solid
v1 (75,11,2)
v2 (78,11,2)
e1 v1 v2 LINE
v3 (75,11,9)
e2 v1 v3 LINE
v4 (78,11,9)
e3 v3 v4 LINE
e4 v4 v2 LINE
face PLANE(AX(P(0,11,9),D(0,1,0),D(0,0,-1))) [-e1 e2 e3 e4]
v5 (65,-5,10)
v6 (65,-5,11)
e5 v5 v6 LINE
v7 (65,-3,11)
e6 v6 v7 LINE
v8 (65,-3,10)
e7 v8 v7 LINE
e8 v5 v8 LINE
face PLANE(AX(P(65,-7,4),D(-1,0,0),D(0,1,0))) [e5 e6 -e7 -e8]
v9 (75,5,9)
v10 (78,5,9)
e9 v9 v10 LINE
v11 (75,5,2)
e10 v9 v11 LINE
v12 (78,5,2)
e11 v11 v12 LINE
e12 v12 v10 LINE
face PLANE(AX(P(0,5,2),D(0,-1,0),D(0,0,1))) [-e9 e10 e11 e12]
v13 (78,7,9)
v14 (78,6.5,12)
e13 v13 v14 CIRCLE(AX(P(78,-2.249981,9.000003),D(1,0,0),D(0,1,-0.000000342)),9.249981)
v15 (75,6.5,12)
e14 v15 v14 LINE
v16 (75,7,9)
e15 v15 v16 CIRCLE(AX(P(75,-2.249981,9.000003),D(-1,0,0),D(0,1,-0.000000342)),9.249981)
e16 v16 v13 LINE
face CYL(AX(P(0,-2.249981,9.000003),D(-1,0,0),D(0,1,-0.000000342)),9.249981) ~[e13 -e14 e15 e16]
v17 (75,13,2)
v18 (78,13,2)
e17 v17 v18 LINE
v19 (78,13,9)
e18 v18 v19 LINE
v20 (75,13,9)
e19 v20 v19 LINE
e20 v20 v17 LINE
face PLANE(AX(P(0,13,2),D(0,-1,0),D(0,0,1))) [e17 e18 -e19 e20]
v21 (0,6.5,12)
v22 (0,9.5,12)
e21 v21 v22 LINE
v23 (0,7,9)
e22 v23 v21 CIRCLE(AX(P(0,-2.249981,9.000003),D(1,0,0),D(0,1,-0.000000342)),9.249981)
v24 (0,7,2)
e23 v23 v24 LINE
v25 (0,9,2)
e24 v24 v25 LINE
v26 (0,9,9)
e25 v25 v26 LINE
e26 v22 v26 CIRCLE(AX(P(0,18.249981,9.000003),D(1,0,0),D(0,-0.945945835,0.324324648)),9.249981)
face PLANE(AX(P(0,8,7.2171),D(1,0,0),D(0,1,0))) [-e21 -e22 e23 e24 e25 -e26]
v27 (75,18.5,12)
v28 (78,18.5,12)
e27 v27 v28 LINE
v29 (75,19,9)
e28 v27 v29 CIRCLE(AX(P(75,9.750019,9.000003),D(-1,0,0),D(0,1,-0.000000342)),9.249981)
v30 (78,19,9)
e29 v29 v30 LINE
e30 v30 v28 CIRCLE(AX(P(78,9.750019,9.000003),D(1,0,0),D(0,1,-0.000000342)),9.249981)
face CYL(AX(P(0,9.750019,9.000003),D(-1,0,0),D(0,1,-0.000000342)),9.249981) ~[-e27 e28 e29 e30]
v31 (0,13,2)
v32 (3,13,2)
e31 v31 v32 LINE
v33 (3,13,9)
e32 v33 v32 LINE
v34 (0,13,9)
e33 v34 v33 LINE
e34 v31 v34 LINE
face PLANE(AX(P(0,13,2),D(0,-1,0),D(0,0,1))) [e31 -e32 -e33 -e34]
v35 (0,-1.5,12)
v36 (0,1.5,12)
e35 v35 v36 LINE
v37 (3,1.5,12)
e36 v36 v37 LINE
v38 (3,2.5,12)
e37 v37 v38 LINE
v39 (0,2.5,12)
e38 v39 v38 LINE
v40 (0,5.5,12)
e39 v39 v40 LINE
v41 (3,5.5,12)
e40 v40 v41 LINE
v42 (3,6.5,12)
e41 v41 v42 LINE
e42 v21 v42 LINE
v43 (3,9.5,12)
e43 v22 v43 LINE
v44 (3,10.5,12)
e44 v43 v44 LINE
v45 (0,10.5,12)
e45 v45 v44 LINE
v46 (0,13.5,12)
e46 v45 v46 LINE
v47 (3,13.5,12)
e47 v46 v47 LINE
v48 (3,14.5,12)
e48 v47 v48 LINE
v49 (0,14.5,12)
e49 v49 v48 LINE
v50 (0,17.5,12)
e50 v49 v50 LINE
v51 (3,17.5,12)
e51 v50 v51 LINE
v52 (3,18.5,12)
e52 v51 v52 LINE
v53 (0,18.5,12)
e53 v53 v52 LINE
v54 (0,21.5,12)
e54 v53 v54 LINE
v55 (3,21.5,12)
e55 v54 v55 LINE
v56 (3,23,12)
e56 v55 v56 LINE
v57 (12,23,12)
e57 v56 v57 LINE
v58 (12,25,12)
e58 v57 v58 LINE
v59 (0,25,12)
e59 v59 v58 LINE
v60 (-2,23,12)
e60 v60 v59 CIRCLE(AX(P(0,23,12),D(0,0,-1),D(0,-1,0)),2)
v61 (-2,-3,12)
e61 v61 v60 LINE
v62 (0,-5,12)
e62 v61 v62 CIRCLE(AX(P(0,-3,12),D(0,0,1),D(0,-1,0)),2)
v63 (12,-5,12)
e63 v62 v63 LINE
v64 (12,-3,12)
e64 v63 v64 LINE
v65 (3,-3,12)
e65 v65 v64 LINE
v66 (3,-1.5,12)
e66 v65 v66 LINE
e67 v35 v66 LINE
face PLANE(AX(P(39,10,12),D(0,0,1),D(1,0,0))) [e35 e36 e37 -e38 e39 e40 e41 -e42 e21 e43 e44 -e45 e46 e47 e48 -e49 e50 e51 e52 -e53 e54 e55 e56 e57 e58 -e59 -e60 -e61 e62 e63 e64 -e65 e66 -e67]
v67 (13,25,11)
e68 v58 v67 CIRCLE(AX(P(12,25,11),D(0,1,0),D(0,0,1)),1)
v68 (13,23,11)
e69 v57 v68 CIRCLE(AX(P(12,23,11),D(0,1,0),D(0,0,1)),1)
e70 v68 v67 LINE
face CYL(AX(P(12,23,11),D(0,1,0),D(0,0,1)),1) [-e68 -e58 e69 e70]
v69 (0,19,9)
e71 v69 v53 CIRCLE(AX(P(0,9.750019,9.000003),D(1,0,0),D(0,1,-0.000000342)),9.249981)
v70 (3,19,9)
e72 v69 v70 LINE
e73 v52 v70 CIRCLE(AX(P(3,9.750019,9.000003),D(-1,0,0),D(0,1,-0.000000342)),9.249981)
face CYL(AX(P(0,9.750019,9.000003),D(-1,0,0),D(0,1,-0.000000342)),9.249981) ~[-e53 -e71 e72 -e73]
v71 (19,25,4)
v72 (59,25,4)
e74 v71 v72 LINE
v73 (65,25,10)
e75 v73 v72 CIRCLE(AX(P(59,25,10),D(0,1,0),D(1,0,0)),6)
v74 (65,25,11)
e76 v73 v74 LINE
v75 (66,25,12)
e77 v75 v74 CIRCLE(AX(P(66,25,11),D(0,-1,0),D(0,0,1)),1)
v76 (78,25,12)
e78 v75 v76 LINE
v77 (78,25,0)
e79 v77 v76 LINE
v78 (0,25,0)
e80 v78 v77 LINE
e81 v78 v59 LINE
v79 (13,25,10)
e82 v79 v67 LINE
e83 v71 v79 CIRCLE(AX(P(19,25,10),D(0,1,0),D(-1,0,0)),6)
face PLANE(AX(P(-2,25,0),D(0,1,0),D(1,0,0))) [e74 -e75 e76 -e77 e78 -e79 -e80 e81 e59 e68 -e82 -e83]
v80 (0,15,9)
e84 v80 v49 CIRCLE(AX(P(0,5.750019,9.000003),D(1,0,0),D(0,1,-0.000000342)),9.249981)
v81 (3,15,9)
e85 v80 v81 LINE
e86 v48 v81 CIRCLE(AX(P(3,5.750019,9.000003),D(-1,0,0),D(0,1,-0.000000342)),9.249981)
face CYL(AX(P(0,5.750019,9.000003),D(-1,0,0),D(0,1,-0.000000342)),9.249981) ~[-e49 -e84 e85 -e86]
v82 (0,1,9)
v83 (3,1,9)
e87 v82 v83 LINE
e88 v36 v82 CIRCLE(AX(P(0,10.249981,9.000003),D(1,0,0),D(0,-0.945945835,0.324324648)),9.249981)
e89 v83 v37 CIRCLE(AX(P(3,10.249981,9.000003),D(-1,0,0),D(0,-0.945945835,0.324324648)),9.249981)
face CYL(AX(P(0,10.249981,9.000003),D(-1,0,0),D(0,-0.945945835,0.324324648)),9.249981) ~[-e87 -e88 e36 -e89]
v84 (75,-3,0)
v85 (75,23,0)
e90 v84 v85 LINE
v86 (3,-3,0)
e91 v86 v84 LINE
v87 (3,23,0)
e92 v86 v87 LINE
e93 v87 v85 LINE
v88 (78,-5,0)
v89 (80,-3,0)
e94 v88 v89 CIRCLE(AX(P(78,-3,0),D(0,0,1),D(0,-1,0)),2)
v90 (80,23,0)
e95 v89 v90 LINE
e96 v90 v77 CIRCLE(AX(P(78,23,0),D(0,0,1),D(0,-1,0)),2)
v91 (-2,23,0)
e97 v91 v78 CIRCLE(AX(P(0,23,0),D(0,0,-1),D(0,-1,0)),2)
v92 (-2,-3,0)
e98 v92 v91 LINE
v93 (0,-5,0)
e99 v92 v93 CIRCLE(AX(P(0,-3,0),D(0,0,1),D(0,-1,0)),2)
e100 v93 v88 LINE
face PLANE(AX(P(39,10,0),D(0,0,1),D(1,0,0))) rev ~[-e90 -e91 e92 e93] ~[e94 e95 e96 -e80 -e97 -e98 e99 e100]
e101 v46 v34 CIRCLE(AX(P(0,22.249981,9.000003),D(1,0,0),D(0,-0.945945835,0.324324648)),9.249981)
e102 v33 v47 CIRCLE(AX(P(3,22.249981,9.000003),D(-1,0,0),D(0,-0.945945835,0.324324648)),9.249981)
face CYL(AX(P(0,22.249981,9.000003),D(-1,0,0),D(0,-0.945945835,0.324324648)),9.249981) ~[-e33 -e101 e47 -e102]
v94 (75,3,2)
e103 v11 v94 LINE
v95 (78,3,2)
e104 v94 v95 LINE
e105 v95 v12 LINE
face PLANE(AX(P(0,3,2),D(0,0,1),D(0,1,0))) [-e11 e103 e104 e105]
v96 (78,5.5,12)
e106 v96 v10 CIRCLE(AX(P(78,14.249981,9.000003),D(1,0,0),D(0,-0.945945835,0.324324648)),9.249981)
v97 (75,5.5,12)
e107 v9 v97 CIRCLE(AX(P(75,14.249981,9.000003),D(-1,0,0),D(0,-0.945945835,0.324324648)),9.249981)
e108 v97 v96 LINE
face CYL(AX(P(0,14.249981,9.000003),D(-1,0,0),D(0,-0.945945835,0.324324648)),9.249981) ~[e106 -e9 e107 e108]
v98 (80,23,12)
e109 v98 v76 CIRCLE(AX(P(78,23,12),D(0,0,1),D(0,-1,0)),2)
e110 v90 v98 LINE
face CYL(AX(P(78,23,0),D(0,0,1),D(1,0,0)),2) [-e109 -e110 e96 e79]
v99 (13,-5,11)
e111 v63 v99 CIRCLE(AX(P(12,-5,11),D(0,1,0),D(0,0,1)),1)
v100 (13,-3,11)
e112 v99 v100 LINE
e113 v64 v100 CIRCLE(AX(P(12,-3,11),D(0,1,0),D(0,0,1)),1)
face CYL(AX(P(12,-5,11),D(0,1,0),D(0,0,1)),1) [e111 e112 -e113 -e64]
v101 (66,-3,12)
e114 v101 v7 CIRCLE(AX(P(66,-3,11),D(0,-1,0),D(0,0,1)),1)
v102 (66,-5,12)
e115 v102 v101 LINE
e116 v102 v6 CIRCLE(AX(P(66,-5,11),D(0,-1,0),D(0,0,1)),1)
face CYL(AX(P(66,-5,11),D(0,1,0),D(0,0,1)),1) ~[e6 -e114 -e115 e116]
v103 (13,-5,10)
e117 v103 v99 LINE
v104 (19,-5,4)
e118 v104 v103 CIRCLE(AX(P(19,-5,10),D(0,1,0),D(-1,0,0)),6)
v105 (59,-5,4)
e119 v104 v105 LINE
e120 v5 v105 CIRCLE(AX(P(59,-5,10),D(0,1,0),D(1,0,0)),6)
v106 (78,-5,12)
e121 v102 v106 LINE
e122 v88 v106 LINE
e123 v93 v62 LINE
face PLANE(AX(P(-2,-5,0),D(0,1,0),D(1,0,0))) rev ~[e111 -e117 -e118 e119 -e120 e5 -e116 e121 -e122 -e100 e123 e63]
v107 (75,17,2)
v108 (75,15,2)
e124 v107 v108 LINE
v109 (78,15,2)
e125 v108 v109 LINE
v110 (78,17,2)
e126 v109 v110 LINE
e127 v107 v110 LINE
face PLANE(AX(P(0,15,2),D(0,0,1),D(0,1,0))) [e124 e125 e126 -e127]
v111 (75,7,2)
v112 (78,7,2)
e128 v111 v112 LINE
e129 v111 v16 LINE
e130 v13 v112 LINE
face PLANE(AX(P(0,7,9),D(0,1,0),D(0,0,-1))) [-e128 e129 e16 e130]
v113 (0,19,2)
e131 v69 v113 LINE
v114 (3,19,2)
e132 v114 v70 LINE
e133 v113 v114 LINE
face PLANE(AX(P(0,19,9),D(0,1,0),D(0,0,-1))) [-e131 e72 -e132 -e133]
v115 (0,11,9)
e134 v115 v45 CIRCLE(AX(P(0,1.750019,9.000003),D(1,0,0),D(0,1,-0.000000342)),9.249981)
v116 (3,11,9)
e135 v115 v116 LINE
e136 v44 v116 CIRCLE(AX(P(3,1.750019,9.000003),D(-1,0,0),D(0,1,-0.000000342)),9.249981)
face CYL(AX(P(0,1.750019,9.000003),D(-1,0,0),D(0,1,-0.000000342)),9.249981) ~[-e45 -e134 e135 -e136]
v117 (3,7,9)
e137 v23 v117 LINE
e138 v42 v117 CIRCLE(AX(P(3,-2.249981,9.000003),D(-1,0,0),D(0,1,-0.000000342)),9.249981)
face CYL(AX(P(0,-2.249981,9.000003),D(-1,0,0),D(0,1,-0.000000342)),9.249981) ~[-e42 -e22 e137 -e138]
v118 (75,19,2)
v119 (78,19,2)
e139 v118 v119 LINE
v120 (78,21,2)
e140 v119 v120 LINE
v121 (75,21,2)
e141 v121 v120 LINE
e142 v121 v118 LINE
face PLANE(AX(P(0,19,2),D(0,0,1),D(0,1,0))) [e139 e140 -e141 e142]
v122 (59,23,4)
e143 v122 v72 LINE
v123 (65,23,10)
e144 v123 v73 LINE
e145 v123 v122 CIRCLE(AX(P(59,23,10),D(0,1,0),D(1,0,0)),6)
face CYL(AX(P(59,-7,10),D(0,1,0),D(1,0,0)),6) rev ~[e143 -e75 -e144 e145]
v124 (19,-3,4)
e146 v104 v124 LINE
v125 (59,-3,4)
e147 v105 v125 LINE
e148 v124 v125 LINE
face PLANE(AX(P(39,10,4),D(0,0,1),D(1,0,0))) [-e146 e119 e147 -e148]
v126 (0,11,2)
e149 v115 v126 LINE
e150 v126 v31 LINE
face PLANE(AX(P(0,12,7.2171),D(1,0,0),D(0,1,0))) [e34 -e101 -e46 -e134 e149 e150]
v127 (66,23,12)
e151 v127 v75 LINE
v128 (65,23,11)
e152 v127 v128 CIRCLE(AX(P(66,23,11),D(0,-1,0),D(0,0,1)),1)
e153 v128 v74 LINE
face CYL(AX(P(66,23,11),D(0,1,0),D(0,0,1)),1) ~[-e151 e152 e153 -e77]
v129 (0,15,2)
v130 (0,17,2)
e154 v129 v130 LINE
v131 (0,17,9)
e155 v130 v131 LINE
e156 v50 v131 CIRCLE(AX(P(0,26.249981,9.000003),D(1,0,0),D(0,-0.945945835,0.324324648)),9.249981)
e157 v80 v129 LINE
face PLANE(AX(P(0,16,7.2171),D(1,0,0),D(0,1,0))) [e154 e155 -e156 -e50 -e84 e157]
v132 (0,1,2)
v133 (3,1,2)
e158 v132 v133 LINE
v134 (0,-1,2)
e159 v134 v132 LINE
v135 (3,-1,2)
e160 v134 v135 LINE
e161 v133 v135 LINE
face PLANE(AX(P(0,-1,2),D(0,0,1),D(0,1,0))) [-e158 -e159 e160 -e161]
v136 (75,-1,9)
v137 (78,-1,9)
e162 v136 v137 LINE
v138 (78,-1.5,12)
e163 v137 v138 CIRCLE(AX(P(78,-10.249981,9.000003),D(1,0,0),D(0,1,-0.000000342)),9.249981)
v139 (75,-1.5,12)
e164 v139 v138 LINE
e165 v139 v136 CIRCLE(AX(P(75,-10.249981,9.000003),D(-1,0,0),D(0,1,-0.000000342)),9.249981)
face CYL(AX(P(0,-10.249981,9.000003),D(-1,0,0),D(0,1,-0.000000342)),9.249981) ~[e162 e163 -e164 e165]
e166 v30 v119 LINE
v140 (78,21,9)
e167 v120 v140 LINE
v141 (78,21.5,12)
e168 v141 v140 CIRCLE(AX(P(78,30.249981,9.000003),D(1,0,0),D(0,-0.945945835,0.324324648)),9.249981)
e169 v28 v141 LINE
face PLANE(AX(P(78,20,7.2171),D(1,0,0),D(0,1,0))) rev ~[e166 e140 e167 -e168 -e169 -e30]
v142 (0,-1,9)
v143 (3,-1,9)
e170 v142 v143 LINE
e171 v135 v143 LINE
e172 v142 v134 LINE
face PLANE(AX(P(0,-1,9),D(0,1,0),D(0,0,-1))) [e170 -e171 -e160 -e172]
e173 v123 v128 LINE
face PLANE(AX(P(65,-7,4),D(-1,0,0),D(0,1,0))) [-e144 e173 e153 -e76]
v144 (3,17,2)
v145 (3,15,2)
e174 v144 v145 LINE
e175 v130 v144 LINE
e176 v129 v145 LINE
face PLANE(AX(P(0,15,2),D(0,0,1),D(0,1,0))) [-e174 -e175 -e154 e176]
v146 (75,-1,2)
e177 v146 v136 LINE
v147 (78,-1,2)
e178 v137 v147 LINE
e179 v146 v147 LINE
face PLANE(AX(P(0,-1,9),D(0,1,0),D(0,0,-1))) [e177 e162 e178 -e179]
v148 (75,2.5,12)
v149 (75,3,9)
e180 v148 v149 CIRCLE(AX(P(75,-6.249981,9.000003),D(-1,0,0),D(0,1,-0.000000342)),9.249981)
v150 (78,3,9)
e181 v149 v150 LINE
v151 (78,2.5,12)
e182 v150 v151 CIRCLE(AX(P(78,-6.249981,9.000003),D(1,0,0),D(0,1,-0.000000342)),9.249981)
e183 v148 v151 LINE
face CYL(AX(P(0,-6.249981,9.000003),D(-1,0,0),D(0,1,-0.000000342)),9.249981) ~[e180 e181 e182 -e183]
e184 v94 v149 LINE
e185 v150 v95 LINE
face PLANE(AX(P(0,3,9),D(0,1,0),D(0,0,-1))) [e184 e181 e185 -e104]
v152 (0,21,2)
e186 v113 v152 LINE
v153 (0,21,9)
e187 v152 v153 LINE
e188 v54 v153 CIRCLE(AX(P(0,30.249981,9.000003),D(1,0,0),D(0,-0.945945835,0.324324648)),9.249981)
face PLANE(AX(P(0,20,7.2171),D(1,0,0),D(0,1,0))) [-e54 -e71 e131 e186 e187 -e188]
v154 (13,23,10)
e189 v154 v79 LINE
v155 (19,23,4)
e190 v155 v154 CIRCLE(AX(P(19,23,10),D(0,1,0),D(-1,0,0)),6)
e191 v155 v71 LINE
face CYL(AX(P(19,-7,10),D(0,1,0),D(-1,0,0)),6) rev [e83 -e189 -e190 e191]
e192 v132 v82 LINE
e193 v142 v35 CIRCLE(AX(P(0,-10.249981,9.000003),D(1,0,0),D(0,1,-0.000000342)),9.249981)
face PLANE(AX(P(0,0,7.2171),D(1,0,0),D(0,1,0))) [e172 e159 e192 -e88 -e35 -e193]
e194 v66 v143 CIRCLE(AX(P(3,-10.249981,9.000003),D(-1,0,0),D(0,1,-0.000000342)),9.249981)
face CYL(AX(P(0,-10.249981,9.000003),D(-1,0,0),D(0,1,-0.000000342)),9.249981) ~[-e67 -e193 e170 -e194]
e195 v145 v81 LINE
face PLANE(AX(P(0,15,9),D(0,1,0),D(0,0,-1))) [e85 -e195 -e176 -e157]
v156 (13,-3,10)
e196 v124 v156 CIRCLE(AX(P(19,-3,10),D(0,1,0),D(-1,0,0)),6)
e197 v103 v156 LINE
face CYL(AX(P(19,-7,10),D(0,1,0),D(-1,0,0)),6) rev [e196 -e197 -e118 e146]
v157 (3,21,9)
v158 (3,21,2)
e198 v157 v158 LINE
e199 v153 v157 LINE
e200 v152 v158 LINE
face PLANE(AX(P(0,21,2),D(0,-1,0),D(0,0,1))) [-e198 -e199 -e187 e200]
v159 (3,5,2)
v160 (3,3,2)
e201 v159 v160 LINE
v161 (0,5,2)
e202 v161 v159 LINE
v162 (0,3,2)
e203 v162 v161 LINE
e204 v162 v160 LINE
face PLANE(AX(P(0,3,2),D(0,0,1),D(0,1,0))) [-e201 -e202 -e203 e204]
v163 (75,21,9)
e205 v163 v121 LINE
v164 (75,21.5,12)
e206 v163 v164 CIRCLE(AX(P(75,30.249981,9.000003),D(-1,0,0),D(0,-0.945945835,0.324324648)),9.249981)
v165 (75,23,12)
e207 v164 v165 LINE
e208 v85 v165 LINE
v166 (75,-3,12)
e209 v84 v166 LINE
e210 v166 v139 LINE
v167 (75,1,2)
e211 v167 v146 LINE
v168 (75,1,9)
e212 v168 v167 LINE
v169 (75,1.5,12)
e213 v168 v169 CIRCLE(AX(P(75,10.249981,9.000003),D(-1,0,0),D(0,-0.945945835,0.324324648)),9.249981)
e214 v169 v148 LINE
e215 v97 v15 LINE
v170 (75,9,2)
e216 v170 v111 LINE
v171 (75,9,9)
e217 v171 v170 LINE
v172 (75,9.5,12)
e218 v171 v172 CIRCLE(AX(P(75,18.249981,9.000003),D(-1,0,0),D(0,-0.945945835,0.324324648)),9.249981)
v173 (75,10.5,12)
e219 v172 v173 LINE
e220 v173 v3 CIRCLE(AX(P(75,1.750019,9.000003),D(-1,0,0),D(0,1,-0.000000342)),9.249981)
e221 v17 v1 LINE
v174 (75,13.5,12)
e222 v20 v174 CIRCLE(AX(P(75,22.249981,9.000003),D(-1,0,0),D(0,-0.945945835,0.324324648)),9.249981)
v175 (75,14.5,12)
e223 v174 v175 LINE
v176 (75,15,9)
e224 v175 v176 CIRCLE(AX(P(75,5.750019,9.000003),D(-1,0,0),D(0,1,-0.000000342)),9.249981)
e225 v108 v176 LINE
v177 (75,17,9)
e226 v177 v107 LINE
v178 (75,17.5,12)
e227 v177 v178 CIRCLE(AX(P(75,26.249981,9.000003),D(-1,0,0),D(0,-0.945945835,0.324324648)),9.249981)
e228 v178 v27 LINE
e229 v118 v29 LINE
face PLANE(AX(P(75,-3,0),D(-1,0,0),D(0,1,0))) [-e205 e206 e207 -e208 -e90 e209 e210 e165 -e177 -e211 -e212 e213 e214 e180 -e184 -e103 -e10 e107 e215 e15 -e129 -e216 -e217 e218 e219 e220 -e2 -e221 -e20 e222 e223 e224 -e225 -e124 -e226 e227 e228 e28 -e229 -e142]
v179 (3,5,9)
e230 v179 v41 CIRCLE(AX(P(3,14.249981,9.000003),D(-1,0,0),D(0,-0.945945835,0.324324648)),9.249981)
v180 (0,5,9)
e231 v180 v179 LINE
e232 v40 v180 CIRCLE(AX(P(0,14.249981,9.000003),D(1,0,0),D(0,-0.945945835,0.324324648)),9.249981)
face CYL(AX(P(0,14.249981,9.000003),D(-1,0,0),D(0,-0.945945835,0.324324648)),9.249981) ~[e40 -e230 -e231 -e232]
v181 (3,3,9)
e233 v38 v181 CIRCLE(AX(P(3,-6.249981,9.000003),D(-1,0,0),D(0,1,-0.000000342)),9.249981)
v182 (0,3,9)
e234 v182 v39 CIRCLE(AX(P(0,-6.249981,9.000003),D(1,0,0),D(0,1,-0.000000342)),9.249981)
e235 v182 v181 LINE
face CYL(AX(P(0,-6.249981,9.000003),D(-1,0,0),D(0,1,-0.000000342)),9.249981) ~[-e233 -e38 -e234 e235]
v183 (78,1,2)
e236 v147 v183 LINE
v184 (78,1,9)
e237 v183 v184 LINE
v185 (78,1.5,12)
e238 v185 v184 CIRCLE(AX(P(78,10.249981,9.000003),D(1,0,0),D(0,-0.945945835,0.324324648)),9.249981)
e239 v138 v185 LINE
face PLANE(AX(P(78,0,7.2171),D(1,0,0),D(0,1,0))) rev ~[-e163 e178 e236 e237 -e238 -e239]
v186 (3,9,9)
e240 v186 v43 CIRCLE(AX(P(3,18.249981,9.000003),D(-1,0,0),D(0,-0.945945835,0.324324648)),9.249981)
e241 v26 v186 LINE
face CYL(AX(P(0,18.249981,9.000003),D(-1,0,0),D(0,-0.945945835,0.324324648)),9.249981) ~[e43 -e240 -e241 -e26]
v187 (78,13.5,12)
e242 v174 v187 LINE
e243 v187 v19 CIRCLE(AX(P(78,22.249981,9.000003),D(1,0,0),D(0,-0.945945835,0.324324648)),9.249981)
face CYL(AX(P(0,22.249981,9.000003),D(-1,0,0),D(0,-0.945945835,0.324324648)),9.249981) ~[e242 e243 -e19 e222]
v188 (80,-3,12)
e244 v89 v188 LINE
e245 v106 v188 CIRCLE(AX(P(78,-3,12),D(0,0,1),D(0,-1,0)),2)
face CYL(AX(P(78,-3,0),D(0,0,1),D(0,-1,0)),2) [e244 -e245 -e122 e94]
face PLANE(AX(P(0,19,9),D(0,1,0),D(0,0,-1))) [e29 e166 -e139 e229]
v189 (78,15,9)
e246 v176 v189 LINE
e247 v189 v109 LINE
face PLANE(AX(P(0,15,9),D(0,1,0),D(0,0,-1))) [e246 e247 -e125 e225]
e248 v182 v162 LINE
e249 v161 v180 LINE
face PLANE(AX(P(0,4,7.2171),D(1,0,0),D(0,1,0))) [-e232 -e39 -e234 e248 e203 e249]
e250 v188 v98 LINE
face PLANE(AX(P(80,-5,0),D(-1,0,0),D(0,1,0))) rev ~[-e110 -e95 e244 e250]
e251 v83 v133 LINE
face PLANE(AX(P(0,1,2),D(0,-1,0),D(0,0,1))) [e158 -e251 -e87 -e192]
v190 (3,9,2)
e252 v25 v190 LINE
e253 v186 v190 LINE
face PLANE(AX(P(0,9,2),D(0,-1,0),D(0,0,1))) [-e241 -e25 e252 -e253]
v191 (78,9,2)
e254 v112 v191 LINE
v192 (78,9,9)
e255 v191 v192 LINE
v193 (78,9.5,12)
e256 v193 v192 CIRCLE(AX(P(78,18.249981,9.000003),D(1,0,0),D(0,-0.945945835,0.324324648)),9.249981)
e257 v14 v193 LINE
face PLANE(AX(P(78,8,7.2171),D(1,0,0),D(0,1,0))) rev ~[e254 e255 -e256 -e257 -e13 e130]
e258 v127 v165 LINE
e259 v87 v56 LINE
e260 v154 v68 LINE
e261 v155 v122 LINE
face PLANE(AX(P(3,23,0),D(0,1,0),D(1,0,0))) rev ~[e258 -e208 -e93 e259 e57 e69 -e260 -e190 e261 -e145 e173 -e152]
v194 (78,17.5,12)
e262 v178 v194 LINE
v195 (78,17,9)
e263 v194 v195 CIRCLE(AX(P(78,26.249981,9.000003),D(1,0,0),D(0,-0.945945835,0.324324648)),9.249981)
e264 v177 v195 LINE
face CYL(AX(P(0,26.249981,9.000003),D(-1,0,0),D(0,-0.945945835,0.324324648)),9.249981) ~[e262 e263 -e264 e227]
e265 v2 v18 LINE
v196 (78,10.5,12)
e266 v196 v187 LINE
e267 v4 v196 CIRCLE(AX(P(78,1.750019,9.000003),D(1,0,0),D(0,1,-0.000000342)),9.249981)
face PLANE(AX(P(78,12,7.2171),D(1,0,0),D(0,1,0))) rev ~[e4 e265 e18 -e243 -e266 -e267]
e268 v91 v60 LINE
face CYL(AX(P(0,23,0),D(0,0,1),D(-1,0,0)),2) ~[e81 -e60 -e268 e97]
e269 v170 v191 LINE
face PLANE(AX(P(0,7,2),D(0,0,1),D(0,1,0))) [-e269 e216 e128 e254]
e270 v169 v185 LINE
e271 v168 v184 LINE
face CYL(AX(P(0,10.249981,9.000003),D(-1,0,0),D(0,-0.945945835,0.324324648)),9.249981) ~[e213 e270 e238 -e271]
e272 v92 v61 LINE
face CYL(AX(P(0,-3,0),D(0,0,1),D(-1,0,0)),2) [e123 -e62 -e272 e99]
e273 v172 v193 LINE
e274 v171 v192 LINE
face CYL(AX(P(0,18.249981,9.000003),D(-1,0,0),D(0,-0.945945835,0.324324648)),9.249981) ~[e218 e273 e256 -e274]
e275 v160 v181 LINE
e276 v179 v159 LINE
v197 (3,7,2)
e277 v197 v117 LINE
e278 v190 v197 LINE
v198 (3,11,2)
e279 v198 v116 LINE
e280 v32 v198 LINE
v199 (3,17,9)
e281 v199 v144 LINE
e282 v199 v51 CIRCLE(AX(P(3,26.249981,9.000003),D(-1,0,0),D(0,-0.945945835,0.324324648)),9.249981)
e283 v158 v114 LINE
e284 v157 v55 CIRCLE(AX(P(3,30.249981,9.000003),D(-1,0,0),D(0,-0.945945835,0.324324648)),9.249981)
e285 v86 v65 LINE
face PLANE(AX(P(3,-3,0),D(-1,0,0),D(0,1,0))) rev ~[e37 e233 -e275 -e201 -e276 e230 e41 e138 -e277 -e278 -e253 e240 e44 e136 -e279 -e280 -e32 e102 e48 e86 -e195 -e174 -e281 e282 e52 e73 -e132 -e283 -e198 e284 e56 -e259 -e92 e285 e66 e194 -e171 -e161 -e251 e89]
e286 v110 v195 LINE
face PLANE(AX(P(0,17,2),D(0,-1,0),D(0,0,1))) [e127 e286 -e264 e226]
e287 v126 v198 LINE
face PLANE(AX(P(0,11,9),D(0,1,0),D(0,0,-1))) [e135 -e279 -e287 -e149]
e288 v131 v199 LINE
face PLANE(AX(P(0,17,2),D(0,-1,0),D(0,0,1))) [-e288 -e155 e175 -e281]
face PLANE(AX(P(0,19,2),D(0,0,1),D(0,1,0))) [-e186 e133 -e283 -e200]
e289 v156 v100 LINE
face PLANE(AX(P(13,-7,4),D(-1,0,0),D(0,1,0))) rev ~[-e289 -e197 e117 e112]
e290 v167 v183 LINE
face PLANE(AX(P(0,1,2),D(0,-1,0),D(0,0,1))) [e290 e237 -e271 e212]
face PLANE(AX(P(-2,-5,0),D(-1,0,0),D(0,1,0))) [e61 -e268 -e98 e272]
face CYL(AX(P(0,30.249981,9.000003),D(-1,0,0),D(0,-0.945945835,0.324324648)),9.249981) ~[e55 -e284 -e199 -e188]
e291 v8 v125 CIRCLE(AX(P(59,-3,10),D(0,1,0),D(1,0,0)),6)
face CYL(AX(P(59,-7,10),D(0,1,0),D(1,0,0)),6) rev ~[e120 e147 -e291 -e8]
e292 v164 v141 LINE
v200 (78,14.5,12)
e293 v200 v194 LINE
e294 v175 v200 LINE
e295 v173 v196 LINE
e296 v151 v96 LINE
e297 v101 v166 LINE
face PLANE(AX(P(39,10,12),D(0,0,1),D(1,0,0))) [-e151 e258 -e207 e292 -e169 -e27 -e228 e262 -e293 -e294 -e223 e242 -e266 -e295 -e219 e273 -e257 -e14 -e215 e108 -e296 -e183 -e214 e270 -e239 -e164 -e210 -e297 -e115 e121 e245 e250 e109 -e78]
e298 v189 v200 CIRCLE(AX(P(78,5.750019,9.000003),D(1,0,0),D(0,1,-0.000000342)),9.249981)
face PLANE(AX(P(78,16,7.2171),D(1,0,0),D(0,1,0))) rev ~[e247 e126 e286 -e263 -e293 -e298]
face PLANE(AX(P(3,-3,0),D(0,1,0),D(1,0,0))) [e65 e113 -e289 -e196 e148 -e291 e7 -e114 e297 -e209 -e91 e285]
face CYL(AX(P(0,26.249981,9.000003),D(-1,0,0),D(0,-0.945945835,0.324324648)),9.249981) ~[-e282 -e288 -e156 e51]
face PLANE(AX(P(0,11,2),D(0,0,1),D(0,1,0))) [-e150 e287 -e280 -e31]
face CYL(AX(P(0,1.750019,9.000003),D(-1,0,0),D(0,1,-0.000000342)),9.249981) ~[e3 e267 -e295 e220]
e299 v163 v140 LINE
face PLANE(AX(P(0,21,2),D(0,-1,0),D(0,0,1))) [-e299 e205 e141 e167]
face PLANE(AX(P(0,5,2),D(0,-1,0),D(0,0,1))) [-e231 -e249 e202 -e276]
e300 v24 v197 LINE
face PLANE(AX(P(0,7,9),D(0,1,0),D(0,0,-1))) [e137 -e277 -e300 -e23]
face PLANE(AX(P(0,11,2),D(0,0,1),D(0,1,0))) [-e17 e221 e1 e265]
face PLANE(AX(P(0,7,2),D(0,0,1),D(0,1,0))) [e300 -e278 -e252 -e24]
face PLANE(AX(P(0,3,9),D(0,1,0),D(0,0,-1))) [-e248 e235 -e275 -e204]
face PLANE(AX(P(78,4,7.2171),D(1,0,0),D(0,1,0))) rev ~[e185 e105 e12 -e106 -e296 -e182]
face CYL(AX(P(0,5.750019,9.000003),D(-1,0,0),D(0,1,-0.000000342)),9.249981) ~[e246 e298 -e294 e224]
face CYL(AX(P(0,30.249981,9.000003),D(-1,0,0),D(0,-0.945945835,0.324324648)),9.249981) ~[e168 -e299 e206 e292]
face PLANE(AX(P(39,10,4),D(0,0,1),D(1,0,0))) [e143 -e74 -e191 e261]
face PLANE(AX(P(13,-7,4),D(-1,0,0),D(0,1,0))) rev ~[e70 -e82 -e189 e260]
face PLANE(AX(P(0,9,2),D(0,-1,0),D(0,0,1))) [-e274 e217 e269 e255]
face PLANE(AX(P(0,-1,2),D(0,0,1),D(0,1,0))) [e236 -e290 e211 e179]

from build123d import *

# Parameters (mm, degrees)
BOX001_W      = 72
BOX001_H      = 26
BOX001_DEPTH  = 12
BOX002_W      = 52
BOX002_H      = 34
BOX002_DEPTH  = 8
FILLET001_R   = 6
PAD_DEPTH     = 78
ARRAY_Y_COUNT = 6
ARRAY_Y_PITCH = 4
BOX_W         = 82
BOX_H         = 30
BOX_DEPTH     = 12
FILLET_R      = 2
FILLET002_R   = 1


with BuildPart() as slide_internal_cube:
    # Box001 → Box001 (new body)
    with BuildSketch(Plane(origin=(3, -3, 0), x_dir=(1, 0, 0), z_dir=(0, 0, 1))):
        with Locations((36, 13)):
            Rectangle(BOX001_W, BOX001_H)
    extrude(amount=BOX001_DEPTH)


with BuildPart() as middle_extract_cube_fillet:
    # Box002 → Box002 (new body)
    with BuildSketch(Plane(origin=(13, -7, 4), x_dir=(1, 0, 0), z_dir=(0, 0, 1))):
        with Locations((26, 17)):
            Rectangle(BOX002_W, BOX002_H)
    extrude(amount=BOX002_DEPTH)

    # Fillet001
    fillet001_edges = [middle_extract_cube_fillet.edges().sort_by_distance(p)[0] for p in [
        (13, 10, 4),
        (65, 10, 4),
    ]]
    fillet(fillet001_edges, radius=FILLET001_R)


with BuildPart() as extract_fusion:
    # Sketch → Pad (new body)
    with BuildSketch(Plane.YZ):
        with BuildLine():
            Line((-1, 9), (-1, 2))
            Line((-1, 2), (1, 2))
            Line((1, 2), (1, 9))
            ThreePointArc((1.5, 12), (1.125856, 10.520691), (1, 9))
            Line((-1.5, 12), (1.5, 12))
            ThreePointArc((-1, 9), (-1.125856, 10.520691), (-1.5, 12))
        make_face()
    extrude(amount=PAD_DEPTH)

    # Array Y: extract fusion ×6


with BuildPart() as extract_fusion_1:
    add(extract_fusion.part)
    with Locations(*[(0, i * ARRAY_Y_PITCH, 0) for i in range(1, ARRAY_Y_COUNT)]):
        add(extract_fusion.part)

    # Fusion: union slide internal cube, middle extract cube fillet
    add(slide_internal_cube.part)
    add(middle_extract_cube_fillet.part)


with BuildPart() as slide_box_fillet:
    # Box → Box (new body)
    with BuildSketch(Plane(origin=(-2, -5, 0), x_dir=(1, 0, 0), z_dir=(0, 0, 1))):
        with Locations((41, 15)):
            Rectangle(BOX_W, BOX_H)
    extrude(amount=BOX_DEPTH)

    # Fillet
    fillet_edges = [slide_box_fillet.edges().sort_by_distance(p)[0] for p in [
        (-2, -5, 6),
        (-2, 25, 6),
        (80, -5, 6),
        (80, 25, 6),
    ]]
    fillet(fillet_edges, radius=FILLET_R)

    # Cut: cut extract fusion
    add(extract_fusion_1.part, mode=Mode.SUBTRACT)

    # Fillet002
    fillet002_edges = [slide_box_fillet.edges().sort_by_distance(p)[0] for p in [
        (13, 24, 12),
        (13, -4, 12),
        (65, -4, 12),
        (65, 24, 12),
    ]]
    fillet(fillet002_edges, radius=FILLET002_R)


solid = slide_box_fillet.part
